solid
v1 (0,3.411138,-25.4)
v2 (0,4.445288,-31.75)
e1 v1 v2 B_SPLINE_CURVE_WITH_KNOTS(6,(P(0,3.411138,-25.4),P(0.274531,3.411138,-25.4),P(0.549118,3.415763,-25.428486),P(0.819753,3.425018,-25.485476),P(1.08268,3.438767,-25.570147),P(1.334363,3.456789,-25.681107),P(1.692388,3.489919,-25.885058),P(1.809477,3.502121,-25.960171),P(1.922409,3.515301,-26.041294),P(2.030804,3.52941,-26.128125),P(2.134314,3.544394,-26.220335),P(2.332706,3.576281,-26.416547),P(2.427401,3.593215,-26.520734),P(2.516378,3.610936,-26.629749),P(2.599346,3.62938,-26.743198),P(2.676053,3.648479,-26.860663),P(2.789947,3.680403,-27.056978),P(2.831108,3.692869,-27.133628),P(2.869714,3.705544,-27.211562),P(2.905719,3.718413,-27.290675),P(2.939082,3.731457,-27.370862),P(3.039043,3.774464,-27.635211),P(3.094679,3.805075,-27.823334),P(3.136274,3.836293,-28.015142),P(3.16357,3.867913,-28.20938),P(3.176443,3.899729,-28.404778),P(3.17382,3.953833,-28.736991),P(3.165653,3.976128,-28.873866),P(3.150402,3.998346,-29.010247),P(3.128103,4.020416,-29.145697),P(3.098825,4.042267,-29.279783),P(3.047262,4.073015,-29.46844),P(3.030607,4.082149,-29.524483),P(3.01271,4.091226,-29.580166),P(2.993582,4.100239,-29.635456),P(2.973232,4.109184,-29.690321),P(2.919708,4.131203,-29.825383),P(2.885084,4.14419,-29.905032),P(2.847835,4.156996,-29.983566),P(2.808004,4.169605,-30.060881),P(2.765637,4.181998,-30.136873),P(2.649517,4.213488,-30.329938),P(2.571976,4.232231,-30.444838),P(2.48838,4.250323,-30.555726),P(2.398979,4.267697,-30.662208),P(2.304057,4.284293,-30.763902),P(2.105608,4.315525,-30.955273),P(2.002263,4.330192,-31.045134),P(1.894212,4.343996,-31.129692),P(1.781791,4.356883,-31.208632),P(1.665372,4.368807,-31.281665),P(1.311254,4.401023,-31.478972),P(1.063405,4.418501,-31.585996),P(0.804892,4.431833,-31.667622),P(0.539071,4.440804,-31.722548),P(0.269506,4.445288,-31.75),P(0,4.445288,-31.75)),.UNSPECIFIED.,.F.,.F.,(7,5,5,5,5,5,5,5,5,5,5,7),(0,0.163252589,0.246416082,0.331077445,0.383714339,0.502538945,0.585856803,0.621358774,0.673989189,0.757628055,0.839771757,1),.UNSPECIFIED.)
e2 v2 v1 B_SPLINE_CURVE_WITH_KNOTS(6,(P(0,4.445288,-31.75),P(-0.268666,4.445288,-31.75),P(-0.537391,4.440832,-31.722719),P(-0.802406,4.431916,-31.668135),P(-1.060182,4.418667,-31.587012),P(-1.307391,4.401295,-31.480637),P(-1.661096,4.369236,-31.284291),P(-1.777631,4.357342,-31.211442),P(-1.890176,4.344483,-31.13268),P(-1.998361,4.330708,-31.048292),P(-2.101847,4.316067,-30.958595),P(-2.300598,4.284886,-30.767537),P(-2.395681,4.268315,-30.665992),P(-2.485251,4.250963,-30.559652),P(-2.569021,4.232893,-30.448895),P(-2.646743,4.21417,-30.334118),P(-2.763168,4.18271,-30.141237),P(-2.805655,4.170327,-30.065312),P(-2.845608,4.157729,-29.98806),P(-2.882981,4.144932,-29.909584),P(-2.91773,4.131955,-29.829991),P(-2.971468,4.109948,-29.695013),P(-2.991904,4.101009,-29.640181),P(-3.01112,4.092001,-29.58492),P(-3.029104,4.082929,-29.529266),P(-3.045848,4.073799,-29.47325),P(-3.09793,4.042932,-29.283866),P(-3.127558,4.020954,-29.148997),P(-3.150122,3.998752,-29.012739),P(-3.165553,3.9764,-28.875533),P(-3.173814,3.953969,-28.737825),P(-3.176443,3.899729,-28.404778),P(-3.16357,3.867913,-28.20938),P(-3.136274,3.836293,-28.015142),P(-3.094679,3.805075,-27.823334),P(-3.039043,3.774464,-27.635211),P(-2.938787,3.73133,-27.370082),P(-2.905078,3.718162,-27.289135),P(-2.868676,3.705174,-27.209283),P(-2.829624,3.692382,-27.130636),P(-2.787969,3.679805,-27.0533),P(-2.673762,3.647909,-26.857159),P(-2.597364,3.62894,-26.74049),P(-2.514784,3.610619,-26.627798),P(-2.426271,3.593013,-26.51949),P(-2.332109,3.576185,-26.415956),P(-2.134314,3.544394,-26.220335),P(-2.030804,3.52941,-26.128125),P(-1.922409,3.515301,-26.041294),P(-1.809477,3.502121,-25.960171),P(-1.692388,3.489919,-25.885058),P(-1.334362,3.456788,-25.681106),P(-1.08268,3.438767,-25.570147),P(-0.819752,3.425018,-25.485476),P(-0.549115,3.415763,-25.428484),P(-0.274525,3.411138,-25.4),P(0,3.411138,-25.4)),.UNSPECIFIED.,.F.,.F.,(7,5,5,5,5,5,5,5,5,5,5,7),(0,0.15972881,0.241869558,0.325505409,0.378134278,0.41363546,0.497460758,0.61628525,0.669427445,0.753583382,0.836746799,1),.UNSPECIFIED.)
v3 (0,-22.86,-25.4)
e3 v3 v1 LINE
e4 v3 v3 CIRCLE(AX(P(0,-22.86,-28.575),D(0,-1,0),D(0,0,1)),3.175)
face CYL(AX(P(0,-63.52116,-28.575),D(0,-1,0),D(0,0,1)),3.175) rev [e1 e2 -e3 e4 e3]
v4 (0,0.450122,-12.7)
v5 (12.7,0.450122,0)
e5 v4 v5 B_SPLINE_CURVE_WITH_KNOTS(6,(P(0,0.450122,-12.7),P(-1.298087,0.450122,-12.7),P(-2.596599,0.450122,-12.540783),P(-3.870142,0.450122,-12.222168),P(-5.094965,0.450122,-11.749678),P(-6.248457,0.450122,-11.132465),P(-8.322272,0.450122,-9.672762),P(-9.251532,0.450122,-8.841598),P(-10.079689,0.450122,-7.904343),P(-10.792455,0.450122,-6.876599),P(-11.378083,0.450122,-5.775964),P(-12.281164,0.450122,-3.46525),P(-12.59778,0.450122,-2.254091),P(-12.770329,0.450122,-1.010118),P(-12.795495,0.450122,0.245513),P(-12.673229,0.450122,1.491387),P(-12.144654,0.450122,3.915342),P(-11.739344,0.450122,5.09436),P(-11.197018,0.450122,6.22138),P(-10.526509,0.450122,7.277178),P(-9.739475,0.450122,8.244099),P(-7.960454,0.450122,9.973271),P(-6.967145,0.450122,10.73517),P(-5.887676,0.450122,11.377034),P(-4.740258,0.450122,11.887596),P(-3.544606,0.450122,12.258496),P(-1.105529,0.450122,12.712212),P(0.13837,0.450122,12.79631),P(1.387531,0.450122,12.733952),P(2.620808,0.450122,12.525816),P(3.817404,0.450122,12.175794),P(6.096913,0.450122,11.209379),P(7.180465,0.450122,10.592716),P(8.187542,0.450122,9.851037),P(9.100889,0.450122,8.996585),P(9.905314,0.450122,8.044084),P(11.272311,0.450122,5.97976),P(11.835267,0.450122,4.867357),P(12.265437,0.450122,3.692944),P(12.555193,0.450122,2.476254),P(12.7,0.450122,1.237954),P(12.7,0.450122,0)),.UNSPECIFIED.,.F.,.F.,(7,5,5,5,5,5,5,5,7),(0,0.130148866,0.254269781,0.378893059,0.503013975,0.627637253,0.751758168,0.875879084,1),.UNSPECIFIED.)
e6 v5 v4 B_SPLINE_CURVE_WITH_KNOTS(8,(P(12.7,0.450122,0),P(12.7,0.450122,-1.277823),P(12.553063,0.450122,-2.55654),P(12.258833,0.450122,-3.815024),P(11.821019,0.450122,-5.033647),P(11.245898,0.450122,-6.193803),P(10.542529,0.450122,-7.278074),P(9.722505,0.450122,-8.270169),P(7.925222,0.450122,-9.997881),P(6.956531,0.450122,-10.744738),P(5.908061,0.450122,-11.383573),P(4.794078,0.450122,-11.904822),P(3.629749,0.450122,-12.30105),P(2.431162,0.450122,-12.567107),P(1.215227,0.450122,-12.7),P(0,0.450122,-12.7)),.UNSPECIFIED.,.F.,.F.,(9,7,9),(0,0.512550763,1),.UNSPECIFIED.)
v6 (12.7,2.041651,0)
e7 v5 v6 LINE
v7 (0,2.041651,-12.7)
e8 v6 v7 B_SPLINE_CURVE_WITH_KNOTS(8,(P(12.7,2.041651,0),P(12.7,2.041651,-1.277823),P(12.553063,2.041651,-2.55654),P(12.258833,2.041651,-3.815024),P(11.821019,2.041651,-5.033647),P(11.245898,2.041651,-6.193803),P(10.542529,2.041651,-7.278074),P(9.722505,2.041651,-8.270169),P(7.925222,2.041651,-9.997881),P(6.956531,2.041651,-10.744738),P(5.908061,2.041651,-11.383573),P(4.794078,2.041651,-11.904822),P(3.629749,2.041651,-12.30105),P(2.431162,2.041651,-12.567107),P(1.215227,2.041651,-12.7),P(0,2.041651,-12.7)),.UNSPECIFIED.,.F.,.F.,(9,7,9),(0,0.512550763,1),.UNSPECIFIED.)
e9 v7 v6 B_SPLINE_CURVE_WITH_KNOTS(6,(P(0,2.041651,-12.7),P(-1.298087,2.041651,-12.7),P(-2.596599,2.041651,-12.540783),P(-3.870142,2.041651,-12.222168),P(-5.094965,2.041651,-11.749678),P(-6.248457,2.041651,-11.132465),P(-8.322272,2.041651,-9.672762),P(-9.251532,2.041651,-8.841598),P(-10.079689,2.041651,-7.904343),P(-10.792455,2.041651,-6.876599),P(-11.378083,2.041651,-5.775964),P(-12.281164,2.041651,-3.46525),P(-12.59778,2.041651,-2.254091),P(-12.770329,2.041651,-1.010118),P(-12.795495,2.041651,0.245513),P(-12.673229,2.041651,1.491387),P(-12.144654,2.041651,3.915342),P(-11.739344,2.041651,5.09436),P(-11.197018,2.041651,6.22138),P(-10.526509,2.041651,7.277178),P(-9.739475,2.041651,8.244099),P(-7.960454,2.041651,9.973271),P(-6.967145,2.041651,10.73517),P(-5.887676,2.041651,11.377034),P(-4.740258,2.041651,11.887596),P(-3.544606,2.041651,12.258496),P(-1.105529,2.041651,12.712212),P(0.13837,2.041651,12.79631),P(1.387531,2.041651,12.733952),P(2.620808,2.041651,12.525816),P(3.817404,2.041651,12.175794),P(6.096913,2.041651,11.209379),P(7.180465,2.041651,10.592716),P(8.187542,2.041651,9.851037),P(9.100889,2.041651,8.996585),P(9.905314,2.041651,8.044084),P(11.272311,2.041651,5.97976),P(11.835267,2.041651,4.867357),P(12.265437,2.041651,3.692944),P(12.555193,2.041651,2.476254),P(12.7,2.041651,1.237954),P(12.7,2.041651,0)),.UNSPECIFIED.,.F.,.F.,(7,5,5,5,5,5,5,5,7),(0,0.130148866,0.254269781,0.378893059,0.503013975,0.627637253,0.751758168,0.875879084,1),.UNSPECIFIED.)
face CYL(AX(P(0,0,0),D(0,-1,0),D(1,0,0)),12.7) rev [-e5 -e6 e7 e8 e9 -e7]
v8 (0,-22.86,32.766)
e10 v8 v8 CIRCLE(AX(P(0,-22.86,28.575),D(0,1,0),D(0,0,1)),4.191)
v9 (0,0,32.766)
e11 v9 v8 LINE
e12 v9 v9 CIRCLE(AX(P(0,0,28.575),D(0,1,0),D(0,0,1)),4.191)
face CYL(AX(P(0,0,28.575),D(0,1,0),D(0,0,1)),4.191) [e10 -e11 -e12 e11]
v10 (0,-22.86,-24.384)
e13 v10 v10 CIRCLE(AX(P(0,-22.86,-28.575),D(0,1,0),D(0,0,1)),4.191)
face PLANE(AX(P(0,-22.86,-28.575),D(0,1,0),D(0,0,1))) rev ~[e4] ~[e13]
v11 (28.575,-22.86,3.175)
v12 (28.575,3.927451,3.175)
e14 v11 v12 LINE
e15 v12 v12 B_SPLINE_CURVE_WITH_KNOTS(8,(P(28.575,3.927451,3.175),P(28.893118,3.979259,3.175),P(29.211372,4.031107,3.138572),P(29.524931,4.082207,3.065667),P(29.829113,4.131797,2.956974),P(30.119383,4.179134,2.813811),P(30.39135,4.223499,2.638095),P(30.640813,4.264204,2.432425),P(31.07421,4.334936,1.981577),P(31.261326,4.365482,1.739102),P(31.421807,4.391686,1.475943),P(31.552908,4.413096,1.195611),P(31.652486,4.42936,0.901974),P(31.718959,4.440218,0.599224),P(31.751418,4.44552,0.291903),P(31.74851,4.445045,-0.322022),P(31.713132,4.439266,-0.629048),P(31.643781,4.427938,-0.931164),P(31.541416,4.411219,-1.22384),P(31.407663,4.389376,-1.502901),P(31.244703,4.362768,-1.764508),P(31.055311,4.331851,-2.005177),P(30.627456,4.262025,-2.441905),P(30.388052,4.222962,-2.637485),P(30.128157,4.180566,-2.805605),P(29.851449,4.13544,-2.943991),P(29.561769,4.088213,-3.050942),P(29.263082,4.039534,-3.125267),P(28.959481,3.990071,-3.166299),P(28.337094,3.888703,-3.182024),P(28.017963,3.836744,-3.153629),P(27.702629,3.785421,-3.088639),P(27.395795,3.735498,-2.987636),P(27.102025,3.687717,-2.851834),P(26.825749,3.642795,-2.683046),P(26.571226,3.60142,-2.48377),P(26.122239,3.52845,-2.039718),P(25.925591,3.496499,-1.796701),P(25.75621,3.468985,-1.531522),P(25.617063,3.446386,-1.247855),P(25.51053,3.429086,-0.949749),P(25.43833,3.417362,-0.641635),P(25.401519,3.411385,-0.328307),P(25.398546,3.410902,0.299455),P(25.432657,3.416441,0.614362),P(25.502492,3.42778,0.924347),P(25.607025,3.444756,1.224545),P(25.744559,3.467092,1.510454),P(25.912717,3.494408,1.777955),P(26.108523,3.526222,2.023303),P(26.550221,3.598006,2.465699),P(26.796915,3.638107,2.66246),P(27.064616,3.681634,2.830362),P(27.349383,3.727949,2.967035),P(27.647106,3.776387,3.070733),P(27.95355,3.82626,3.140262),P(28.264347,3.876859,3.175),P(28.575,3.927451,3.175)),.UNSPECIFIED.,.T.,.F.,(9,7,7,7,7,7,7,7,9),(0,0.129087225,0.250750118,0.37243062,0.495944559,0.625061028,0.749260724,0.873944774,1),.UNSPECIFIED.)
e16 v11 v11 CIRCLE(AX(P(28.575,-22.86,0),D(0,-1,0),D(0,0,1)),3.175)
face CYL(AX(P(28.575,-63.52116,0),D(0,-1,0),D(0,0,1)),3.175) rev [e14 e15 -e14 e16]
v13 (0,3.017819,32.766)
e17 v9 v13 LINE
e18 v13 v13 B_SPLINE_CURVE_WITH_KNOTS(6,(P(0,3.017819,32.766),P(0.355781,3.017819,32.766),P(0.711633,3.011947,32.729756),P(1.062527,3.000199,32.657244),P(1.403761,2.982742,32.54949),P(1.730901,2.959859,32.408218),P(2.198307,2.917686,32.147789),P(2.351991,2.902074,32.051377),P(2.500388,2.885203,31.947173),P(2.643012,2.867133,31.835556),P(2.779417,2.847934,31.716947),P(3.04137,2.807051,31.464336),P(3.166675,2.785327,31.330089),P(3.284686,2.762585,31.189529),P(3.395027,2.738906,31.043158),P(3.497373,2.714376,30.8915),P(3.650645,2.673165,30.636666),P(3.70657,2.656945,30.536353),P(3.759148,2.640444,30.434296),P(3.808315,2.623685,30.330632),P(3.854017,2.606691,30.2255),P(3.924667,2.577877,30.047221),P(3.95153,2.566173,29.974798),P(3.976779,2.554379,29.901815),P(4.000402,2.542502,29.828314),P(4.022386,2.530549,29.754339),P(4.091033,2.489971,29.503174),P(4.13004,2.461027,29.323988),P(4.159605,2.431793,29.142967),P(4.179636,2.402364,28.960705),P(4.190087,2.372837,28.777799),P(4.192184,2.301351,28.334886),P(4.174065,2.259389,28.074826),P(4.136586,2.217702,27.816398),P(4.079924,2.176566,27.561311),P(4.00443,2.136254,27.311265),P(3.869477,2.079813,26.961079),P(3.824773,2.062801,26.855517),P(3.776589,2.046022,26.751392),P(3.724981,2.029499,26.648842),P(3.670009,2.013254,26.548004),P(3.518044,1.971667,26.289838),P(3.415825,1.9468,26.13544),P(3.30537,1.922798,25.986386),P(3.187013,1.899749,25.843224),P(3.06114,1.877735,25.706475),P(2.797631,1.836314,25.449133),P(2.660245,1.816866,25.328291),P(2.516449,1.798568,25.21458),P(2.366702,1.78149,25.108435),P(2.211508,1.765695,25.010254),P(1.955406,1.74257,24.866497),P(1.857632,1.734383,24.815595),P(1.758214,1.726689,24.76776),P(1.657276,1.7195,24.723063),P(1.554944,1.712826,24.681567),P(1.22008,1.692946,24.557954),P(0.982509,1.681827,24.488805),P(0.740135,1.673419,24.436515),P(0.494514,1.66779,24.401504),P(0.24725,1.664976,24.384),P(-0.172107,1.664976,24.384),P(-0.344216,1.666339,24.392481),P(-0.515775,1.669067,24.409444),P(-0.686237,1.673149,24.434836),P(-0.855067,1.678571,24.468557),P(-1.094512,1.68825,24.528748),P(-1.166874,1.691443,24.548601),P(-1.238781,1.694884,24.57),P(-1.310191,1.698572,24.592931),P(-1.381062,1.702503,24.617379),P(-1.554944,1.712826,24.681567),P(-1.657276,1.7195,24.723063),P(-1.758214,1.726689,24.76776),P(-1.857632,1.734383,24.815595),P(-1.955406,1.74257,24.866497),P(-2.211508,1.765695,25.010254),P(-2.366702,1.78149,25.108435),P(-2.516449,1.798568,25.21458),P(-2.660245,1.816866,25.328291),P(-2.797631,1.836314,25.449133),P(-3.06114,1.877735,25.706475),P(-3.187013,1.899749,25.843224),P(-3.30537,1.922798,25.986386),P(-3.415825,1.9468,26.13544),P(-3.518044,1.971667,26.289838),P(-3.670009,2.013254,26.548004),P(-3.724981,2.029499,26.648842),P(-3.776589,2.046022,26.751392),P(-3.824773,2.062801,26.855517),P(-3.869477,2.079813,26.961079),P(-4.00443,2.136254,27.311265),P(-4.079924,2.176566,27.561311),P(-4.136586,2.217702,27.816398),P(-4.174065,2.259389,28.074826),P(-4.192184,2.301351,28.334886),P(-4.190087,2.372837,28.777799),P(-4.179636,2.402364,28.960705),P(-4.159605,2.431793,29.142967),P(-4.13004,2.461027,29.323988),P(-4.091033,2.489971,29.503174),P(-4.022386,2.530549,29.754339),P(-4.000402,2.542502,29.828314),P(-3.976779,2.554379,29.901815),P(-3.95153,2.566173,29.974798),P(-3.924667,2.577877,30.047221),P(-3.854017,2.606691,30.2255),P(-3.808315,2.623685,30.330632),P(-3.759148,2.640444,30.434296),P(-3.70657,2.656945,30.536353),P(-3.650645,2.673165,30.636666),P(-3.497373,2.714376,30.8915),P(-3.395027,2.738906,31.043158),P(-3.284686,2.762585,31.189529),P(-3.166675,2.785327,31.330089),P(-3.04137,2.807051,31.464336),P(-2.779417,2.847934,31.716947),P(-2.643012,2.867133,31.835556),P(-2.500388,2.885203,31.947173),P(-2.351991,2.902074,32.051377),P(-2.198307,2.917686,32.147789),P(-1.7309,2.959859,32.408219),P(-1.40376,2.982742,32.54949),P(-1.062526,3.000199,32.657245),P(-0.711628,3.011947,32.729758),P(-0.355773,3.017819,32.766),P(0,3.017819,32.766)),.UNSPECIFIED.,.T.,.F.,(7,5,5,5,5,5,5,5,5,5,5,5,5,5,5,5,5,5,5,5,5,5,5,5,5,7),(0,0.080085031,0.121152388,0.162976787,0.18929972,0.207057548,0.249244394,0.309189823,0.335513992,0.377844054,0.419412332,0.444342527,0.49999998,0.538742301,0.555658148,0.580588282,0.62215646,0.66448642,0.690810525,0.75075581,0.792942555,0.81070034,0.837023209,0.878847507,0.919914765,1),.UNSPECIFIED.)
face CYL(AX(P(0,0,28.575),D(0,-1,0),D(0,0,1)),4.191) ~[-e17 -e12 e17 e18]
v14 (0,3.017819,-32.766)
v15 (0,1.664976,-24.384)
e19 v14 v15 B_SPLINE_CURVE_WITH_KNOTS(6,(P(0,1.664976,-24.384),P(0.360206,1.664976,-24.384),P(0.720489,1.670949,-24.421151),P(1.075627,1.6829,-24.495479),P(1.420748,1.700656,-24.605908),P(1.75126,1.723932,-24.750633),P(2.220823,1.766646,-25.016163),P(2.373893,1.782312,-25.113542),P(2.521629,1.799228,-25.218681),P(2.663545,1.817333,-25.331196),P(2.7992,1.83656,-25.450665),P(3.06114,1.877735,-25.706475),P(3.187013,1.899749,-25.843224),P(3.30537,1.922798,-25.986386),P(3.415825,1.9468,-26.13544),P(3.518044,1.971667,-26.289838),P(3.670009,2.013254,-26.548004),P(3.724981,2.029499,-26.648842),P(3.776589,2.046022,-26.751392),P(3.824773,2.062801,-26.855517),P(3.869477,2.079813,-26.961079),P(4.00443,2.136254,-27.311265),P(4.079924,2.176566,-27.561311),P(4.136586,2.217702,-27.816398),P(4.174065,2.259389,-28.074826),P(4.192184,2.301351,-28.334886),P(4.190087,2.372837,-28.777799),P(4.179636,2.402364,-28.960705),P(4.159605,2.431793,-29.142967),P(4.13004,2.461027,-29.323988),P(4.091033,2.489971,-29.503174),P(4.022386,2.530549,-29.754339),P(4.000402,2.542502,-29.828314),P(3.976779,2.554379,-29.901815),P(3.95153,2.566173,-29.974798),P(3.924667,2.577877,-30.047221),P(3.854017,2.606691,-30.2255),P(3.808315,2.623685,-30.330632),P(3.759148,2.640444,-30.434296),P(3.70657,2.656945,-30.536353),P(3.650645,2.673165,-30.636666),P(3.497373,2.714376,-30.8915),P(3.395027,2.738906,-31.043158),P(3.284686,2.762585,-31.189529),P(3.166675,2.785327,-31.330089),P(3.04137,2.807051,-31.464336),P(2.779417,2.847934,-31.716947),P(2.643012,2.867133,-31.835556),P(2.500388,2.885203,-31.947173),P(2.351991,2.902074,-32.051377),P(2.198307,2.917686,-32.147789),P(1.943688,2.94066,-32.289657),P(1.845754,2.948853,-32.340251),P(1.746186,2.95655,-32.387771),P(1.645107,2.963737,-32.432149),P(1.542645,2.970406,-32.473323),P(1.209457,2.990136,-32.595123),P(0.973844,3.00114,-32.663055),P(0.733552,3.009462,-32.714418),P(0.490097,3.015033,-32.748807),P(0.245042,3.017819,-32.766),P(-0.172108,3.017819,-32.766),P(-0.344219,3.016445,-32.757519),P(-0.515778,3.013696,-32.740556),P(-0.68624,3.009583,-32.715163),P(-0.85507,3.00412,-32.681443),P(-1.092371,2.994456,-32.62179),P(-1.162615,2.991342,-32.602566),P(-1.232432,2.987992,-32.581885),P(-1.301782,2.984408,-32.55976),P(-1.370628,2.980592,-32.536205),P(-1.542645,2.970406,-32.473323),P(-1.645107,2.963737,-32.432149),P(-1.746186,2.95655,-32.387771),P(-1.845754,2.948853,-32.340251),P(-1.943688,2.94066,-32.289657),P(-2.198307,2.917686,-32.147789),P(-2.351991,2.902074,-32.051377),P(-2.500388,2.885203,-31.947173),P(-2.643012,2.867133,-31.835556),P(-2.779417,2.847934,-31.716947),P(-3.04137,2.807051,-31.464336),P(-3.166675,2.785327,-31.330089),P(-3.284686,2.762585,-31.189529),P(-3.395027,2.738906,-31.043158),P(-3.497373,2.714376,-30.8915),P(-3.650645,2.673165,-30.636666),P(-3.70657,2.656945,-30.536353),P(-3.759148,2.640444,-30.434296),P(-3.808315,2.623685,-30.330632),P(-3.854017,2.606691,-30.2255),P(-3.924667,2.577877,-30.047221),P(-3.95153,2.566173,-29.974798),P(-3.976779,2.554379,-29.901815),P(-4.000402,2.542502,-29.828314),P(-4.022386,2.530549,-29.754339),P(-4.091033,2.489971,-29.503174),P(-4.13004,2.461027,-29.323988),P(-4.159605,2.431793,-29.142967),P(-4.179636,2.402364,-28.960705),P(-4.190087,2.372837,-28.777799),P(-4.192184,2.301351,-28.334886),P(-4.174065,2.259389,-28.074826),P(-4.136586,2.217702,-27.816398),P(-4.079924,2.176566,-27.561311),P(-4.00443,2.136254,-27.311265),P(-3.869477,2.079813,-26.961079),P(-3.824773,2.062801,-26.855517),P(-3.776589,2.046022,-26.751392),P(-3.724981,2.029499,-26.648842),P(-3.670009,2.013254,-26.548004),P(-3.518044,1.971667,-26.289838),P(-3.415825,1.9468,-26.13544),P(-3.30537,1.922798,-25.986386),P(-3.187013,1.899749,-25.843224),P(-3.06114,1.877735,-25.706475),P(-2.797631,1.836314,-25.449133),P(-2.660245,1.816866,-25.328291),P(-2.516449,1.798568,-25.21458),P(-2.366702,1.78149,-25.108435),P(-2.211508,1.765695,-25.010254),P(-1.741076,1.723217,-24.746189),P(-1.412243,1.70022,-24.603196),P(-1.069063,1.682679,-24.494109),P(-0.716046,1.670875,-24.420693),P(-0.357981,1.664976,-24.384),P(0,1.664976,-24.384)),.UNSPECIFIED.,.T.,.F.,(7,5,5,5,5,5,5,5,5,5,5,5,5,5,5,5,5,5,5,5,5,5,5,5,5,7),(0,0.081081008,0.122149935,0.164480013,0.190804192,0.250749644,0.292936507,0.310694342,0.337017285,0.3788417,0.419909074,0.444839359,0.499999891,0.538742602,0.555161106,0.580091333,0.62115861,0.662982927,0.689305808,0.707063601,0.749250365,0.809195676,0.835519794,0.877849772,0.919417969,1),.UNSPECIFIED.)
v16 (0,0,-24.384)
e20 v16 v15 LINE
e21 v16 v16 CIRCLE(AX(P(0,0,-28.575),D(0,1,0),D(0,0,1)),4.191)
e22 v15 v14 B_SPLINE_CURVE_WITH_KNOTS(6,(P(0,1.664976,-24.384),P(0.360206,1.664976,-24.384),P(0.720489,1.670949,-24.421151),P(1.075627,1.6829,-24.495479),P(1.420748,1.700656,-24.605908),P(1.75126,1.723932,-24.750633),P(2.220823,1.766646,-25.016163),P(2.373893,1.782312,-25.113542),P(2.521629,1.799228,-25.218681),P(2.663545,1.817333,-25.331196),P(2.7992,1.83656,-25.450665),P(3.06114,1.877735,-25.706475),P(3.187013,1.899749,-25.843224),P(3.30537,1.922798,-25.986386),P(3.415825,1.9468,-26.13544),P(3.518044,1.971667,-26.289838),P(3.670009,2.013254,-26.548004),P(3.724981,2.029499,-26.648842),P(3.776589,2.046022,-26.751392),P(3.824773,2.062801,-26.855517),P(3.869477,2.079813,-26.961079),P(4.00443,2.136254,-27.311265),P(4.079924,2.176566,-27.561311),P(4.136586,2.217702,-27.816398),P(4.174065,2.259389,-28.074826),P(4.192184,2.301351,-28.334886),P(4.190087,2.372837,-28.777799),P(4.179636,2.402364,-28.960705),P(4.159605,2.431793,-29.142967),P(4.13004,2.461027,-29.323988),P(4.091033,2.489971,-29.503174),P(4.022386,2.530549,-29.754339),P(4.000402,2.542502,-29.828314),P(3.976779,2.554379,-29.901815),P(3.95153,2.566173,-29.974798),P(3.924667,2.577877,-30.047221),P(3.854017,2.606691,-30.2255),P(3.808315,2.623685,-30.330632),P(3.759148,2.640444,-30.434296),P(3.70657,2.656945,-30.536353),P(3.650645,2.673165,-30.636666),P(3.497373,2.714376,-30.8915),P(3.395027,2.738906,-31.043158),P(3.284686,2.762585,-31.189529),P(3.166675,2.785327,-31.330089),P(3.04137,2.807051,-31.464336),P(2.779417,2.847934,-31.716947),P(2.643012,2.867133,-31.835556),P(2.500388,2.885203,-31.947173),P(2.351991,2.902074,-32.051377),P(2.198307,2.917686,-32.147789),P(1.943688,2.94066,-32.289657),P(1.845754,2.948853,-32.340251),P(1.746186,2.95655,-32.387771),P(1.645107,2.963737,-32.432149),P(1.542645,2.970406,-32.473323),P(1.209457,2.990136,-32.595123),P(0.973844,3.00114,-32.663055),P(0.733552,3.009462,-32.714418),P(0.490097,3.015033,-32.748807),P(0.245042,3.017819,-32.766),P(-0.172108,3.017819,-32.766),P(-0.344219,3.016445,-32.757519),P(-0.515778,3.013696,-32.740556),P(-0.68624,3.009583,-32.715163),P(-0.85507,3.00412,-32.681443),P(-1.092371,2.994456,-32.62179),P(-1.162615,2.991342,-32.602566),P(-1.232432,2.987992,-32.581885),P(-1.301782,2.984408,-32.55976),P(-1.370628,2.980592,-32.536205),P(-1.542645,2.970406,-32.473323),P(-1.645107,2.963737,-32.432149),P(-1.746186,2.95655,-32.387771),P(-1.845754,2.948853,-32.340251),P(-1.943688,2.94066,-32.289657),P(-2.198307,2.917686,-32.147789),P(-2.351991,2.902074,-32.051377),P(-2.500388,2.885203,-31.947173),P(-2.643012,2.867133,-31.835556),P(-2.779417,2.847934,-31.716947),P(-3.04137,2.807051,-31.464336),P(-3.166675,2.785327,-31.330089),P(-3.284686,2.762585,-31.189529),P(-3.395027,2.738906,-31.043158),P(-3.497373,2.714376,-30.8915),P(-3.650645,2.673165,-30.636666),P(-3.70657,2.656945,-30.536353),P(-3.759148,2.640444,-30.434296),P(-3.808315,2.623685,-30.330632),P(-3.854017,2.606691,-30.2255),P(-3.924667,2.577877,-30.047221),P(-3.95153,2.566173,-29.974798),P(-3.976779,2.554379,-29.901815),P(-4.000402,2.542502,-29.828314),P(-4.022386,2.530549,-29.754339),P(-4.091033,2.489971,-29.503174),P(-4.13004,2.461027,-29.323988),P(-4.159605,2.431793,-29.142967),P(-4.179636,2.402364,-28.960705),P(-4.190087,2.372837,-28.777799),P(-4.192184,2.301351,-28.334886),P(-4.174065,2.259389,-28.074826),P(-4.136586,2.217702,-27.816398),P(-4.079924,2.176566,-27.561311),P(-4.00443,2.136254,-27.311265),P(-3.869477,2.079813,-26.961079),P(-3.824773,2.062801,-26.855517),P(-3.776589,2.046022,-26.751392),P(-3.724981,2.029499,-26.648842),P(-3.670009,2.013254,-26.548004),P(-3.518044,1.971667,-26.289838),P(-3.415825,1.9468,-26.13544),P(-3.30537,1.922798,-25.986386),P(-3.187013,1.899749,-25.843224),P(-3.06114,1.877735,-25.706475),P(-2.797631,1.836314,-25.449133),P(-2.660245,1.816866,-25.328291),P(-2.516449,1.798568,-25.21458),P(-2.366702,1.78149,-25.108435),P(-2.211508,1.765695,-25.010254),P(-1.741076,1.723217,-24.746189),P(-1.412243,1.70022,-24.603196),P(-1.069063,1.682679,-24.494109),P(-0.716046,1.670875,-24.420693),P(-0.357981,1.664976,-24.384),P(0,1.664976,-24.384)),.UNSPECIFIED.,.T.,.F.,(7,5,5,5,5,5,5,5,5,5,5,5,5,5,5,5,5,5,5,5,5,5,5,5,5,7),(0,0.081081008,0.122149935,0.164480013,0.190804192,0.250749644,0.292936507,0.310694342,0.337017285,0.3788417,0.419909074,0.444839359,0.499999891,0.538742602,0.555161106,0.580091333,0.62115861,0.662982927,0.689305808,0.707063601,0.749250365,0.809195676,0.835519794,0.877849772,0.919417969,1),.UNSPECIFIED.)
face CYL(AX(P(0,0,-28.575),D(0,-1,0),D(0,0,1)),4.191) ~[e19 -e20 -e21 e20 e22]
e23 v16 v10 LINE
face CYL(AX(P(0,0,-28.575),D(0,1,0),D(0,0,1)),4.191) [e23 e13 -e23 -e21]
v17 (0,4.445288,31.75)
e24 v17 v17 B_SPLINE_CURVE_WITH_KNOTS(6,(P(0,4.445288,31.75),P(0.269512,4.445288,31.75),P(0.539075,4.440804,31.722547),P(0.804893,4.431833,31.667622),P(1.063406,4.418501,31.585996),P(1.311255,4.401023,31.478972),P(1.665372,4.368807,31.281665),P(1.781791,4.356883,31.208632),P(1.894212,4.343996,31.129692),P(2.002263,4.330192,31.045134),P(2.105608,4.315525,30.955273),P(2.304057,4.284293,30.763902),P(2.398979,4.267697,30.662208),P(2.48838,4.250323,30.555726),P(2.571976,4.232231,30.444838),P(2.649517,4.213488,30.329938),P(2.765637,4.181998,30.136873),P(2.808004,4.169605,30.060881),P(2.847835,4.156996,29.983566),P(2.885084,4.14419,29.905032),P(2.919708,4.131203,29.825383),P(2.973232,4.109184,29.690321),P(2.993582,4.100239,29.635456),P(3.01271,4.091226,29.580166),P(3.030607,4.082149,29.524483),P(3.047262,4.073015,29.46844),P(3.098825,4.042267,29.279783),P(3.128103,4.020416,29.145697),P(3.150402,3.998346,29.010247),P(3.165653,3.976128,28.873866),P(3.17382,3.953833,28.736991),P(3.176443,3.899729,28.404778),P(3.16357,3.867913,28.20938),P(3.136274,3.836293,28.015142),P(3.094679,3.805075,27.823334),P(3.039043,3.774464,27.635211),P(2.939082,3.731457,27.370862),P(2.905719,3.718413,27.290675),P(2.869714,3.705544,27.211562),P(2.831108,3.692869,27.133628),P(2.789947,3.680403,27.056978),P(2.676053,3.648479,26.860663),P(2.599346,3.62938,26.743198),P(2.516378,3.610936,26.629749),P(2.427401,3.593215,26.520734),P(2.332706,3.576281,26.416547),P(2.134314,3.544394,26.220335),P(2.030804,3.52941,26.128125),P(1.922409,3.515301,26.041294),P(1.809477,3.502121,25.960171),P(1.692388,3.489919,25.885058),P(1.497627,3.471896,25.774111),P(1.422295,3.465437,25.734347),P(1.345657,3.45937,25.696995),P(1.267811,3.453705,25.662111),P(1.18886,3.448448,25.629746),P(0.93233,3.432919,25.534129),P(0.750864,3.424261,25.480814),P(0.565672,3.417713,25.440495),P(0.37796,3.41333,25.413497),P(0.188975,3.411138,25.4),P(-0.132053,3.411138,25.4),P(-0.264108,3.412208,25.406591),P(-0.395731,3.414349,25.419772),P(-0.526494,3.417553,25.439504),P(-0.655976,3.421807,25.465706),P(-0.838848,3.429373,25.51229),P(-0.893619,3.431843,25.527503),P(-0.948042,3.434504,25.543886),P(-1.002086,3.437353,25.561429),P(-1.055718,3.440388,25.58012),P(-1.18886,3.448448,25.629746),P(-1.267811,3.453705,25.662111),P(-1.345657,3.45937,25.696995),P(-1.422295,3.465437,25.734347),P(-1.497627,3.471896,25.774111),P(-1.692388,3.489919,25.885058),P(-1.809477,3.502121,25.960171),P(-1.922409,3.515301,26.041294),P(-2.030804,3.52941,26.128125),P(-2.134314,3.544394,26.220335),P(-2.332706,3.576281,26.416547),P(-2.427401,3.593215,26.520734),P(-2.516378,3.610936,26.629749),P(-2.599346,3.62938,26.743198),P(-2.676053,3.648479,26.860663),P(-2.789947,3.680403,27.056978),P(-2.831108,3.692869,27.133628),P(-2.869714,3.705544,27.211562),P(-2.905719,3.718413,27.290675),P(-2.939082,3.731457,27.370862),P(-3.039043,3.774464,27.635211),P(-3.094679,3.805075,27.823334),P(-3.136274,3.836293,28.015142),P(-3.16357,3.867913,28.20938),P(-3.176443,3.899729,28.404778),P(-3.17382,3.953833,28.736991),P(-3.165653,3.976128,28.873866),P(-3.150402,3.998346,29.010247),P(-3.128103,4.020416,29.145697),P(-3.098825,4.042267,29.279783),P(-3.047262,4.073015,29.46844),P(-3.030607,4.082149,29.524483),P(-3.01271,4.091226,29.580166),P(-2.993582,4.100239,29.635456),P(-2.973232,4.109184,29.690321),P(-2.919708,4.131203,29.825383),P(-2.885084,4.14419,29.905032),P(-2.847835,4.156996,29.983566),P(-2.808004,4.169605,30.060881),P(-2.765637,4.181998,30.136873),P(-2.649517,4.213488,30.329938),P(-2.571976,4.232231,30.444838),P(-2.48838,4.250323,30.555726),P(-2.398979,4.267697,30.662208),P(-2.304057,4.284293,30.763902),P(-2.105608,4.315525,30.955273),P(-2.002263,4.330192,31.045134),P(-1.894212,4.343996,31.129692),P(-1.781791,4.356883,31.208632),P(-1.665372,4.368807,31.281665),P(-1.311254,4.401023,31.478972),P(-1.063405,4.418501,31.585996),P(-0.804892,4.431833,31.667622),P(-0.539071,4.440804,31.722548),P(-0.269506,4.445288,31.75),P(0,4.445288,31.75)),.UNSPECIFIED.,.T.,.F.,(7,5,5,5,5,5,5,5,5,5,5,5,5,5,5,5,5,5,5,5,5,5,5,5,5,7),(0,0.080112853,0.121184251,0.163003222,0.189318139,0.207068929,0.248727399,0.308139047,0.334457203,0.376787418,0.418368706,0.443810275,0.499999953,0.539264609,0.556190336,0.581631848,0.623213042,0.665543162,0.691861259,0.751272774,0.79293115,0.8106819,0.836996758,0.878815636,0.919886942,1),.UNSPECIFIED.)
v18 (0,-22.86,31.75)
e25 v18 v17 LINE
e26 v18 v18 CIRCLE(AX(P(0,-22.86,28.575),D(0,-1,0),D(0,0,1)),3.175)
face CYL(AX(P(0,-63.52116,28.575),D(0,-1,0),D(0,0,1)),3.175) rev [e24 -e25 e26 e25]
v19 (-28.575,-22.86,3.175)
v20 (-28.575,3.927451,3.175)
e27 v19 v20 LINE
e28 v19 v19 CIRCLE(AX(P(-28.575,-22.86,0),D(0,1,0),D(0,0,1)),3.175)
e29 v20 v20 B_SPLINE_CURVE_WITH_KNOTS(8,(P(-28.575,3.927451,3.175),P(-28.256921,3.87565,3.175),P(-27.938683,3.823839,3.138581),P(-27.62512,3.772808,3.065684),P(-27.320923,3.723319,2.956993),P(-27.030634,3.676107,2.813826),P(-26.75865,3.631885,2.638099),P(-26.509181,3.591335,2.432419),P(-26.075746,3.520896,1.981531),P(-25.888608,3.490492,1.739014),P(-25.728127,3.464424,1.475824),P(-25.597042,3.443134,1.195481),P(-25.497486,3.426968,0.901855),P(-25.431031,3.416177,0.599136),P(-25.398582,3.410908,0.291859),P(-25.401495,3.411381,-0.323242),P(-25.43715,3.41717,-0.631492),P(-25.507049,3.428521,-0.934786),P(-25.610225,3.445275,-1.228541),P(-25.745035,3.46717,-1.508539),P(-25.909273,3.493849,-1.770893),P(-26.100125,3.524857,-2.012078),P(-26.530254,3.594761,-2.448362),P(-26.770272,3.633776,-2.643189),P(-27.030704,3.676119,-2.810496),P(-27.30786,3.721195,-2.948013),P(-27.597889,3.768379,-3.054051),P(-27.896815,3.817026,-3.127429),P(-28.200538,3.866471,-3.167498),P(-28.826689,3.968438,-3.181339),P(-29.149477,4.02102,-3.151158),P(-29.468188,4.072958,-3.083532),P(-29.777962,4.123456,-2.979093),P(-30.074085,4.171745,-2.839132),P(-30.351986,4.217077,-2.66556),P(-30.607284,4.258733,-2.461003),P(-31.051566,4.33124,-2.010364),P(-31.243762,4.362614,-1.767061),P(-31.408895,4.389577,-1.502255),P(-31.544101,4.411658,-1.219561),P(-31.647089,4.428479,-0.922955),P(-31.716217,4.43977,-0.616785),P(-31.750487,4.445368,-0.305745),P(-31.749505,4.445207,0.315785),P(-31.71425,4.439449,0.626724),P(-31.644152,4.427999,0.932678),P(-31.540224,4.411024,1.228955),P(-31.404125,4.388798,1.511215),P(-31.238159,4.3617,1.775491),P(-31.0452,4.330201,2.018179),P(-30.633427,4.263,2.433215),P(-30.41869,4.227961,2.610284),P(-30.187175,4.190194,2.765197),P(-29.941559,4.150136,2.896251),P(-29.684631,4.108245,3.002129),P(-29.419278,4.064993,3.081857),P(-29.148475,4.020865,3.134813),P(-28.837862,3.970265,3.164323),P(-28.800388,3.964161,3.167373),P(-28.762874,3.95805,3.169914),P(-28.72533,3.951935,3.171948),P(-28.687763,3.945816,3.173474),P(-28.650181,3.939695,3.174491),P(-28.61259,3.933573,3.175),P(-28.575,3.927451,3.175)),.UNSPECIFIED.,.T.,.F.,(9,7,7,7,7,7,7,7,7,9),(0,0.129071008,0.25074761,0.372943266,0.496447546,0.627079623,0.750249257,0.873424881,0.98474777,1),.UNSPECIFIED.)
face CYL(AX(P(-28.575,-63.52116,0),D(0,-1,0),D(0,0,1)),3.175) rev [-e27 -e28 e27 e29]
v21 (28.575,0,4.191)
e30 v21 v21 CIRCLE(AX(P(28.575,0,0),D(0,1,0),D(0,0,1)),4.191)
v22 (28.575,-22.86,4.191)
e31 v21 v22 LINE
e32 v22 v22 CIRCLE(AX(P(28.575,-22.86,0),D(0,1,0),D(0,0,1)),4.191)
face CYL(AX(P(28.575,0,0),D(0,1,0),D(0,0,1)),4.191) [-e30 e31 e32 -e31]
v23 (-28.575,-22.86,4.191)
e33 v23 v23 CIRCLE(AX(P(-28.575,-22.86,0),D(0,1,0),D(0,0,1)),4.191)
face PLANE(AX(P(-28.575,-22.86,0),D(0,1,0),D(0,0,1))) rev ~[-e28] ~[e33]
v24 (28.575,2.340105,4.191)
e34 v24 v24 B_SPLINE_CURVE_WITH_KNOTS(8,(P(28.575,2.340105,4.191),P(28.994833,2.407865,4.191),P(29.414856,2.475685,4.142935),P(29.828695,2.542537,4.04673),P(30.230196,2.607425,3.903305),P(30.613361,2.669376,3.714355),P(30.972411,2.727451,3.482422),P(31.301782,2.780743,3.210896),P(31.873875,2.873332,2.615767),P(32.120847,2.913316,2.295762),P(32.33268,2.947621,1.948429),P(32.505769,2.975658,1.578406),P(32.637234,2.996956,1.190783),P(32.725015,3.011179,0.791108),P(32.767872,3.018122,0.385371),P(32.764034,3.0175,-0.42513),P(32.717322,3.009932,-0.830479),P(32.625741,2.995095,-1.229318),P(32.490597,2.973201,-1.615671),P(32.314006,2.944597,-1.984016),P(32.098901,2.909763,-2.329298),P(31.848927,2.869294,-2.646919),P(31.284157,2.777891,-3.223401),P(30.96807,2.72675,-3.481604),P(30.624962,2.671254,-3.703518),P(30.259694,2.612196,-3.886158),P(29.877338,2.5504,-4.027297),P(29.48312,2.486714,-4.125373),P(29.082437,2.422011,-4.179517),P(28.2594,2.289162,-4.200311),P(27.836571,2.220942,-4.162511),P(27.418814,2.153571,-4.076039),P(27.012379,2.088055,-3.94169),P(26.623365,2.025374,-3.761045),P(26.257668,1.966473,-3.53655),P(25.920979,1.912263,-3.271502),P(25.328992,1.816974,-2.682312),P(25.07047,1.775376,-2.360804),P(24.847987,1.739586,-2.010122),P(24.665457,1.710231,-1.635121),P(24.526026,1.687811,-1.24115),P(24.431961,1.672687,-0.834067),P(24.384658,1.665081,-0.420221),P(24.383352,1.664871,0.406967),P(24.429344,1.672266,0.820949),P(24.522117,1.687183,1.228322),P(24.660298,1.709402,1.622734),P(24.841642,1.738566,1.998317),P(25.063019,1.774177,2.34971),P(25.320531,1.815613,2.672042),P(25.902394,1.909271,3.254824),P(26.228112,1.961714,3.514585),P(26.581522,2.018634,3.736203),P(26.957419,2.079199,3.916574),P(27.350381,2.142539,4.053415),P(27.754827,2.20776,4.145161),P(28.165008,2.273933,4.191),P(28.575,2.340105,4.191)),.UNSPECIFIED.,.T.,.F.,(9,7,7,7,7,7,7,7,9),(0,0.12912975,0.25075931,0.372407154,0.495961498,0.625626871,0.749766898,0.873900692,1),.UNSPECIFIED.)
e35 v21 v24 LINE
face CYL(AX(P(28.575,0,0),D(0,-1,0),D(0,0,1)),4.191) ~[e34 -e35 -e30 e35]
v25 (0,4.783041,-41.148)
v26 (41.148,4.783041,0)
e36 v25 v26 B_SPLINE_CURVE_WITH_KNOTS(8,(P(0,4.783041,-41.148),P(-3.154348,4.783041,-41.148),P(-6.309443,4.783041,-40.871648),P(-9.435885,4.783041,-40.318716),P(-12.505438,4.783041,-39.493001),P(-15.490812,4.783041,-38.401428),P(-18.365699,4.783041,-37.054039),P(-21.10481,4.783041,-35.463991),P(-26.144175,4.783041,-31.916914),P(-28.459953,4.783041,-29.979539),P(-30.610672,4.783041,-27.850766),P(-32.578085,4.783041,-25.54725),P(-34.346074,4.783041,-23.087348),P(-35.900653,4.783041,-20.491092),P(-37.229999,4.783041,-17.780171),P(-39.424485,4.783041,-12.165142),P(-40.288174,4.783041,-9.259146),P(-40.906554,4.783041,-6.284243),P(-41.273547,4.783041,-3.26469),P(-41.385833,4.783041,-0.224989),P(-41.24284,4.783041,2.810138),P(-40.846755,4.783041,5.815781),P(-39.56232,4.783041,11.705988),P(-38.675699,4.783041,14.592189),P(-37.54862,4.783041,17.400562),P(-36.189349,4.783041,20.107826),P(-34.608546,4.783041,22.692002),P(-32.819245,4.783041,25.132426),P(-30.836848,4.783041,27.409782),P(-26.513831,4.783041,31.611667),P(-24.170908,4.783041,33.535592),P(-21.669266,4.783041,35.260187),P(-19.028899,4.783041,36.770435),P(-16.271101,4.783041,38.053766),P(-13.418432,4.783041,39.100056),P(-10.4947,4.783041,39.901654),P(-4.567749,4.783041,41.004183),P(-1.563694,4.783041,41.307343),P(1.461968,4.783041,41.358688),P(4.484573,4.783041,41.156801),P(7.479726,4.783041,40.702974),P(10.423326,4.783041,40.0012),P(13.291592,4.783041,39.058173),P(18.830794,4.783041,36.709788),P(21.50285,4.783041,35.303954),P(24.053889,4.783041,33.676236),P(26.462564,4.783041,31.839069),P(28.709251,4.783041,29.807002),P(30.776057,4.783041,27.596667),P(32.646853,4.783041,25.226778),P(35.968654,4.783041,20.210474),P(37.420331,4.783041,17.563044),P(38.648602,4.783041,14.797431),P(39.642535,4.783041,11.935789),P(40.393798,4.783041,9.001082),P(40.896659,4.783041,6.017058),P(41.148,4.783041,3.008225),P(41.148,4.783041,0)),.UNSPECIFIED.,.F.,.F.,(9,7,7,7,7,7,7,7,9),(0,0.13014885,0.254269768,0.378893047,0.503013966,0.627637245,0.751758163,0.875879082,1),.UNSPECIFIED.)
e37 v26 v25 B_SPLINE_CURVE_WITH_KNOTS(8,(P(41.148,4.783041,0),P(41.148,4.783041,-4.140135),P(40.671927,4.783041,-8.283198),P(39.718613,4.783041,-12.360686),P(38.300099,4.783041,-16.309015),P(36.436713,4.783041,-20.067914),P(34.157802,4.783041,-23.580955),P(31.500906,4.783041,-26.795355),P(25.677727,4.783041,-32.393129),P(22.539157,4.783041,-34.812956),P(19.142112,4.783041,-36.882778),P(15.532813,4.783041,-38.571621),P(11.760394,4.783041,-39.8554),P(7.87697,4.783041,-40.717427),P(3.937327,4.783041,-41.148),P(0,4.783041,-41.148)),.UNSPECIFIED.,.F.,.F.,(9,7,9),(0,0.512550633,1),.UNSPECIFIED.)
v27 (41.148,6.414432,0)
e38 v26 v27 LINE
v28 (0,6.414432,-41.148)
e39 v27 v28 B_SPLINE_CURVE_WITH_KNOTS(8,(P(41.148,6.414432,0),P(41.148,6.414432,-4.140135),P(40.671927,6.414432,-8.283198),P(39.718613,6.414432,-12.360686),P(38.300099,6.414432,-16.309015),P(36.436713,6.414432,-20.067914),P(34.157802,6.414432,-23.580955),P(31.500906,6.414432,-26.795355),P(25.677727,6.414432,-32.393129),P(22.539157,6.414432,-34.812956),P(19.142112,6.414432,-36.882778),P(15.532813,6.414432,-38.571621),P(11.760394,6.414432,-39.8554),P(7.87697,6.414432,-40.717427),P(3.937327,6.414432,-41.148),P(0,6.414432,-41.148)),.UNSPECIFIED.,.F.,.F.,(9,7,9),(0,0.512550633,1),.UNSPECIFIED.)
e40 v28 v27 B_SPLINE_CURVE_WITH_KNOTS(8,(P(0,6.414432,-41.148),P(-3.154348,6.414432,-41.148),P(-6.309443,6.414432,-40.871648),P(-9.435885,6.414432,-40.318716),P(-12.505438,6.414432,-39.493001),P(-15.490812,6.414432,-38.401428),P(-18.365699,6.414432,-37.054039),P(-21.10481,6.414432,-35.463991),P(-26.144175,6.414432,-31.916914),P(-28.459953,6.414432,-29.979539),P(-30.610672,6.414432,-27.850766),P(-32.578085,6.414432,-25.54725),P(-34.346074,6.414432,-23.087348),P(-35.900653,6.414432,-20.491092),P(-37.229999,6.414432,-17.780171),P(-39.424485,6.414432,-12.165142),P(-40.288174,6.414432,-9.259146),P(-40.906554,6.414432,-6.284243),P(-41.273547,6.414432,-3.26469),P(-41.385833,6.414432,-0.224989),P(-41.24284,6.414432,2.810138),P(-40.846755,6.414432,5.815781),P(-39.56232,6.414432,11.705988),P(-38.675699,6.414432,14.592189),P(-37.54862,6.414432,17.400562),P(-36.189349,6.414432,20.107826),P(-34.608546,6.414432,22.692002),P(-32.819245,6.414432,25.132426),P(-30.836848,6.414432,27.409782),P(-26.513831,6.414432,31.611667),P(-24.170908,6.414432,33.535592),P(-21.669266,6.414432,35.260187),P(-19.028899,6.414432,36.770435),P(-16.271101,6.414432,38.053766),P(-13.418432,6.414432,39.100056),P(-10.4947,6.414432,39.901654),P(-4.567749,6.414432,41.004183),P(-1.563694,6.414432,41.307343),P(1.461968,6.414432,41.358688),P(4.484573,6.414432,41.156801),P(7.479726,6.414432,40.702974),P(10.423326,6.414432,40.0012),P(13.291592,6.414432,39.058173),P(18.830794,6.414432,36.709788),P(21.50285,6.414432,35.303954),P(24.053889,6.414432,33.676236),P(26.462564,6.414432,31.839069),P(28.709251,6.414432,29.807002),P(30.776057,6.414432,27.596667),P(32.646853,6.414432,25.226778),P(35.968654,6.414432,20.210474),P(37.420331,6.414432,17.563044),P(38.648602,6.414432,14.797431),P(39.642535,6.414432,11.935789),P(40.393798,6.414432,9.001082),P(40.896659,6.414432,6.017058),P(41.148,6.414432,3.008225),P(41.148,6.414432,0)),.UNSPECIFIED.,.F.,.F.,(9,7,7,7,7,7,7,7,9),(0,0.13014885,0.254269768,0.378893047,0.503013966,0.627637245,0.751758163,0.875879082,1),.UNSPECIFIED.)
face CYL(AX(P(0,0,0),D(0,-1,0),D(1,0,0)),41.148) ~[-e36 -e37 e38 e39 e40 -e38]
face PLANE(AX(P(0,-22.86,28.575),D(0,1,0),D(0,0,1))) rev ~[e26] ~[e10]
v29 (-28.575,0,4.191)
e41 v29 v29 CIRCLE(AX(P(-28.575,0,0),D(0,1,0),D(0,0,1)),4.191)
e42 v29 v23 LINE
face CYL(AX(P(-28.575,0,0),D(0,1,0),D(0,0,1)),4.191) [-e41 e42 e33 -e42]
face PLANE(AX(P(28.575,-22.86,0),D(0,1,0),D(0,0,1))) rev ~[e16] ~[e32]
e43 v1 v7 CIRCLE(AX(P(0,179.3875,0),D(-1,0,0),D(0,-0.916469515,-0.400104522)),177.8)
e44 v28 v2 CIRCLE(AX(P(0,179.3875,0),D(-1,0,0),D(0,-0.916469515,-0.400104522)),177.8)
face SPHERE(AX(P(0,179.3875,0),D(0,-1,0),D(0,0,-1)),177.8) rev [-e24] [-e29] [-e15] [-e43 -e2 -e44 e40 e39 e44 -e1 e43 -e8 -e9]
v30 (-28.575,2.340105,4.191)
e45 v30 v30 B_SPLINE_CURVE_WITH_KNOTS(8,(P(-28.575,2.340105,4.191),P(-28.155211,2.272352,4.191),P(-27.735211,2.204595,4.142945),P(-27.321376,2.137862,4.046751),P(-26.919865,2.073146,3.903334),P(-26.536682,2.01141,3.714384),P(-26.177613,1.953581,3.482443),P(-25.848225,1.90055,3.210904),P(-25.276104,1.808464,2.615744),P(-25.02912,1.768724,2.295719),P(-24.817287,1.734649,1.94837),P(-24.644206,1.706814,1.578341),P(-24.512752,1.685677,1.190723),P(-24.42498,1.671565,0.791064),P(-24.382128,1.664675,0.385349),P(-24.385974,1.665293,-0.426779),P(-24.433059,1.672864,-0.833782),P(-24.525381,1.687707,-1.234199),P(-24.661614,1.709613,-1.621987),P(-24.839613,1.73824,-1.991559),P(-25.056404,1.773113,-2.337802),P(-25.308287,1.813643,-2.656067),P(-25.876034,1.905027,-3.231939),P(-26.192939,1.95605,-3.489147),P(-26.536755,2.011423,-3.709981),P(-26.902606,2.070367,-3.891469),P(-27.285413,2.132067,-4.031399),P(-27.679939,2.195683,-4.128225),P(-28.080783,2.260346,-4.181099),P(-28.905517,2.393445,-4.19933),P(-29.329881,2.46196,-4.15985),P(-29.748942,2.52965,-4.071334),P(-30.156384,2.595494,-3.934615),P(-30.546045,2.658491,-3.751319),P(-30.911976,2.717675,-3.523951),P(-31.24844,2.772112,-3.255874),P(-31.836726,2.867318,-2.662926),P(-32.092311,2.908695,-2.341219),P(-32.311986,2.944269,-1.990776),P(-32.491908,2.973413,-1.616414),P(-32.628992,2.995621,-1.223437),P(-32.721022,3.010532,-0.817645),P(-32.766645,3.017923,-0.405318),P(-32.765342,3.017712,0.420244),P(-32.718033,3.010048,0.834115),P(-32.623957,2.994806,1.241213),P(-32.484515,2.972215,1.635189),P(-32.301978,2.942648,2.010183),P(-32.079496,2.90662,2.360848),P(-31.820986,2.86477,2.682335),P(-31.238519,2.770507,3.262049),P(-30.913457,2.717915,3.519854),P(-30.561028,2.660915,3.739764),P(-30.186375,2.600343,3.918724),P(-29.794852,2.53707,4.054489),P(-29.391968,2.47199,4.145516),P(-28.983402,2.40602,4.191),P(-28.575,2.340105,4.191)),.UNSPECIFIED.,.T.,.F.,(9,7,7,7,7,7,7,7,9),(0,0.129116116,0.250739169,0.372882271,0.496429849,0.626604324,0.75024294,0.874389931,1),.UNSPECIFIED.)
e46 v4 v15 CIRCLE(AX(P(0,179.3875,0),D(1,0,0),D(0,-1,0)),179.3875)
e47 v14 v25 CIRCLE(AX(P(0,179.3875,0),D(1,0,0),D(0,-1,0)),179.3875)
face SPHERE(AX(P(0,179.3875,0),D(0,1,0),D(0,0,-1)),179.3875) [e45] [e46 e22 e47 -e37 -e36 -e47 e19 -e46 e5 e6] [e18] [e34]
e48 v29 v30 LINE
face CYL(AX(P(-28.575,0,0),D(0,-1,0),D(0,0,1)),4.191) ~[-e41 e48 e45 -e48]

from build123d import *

# Parameters (mm, degrees)
BOSS_EXTRUDE2_REACH             = 105.962
BOSS_EXTRUDE2_END_RADIUS        = 179.3875
SKETCH2_R                       = 4.191
SKETCH2_R_2                     = 3.175
BOSS_EXTRUDE2_DIRECTION_2_DEPTH = 22.86
SKETCH2_6_R                     = 72.587717307
SKETCH2_6_R_2                   = 41.148
SKETCH2_6_R_3                   = 12.7
CUT_EXTRUDE3_DEPTH              = 106.169068821
CUT_EXTRUDE4_DEPTH              = 63.521159814
CUT_EXTRUDE4_DEPTH_BACK         = 63.521159814
SKETCH2_8_R                     = 3.175


with BuildPart() as part:
    # Sketch1 → Revolve1 (revolve)
    with BuildSketch(Plane.XY, mode=Mode.PRIVATE) as revolve1_sk:
        with BuildLine():
            Line((0, 1.5875), (0, 0))
            ThreePointArc((0, 0), (-37.095674447, 3.877425948), (-72.587717307, 15.342084177))
            Line((-72.587717307, 15.342084177), (-71.138583931, 16.439220241))
            ThreePointArc((-71.138583931, 16.439220241), (-36.336179346, 5.340029261), (0, 1.5875))
        make_face()
    revolve(revolve1_sk.sketch.rotate(Axis((0, 0, 0), (0, 1, 0)), 270), axis=Axis((0, 0, 0), (0, 1, 0)))

    # Boss-Extrude2: up to this sphere (the profile starts outside it)
    boss_extrude2_end = Location((0, 179.3875, 0)) * Sphere(BOSS_EXTRUDE2_END_RADIUS, mode=Mode.PRIVATE)
    # Sketch2 → Boss-Extrude2 (add, up to the surface)
    with BuildSketch(Plane(origin=(0, 0, 0), x_dir=(1, 0, 0), z_dir=(0, 1, 0)), mode=Mode.PRIVATE) as boss_extrude2_sk1:
        with Locations(Location((-28.575, 0, 0), (0, 0, 270))):
            Circle(SKETCH2_R)
        with Locations((-28.575, 0)):
            Circle(SKETCH2_R_2, mode=Mode.SUBTRACT)
    boss_extrude2_tool1 = extrude(boss_extrude2_sk1.sketch, amount=BOSS_EXTRUDE2_REACH, mode=Mode.PRIVATE) - boss_extrude2_end
    add(boss_extrude2_tool1.solids().sort_by_distance((-28.575, 0, -4.072461))[0])
    # Sketch2 → Boss-Extrude2 (add, up to the surface)
    with BuildSketch(Plane(origin=(0, 0, 0), x_dir=(1, 0, 0), z_dir=(0, 1, 0)), mode=Mode.PRIVATE) as boss_extrude2_sk2:
        with Locations((-28.575, 0)):
            Circle(SKETCH2_R_2)
    boss_extrude2_tool2 = extrude(boss_extrude2_sk2.sketch, amount=BOSS_EXTRUDE2_REACH, mode=Mode.PRIVATE) - boss_extrude2_end
    add(boss_extrude2_tool2.solids().sort_by_distance((-28.575, 0, 0))[0])
    # Sketch2 → Boss-Extrude2 (add, up to the surface)
    with BuildSketch(Plane(origin=(0, 0, 0), x_dir=(1, 0, 0), z_dir=(0, 1, 0)), mode=Mode.PRIVATE) as boss_extrude2_sk3:
        with Locations(Location((0, 28.575, 0), (0, 0, 270))):
            Circle(SKETCH2_R)
        with Locations((0, 28.575)):
            Circle(SKETCH2_R_2, mode=Mode.SUBTRACT)
    boss_extrude2_tool3 = extrude(boss_extrude2_sk3.sketch, amount=BOSS_EXTRUDE2_REACH, mode=Mode.PRIVATE) - boss_extrude2_end
    add(boss_extrude2_tool3.solids().sort_by_distance((0, 0, -32.647461))[0])
    # Sketch2 → Boss-Extrude2 (add, up to the surface)
    with BuildSketch(Plane(origin=(0, 0, 0), x_dir=(1, 0, 0), z_dir=(0, 1, 0)), mode=Mode.PRIVATE) as boss_extrude2_sk4:
        with Locations((0, 28.575)):
            Circle(SKETCH2_R_2)
    boss_extrude2_tool4 = extrude(boss_extrude2_sk4.sketch, amount=BOSS_EXTRUDE2_REACH, mode=Mode.PRIVATE) - boss_extrude2_end
    add(boss_extrude2_tool4.solids().sort_by_distance((0, 0, -28.575))[0])
    # Sketch2 → Boss-Extrude2 (add, up to the surface)
    with BuildSketch(Plane(origin=(0, 0, 0), x_dir=(1, 0, 0), z_dir=(0, 1, 0)), mode=Mode.PRIVATE) as boss_extrude2_sk5:
        with Locations(Location((28.575, 0, 0), (0, 0, 270))):
            Circle(SKETCH2_R)
        with Locations((28.575, 0)):
            Circle(SKETCH2_R_2, mode=Mode.SUBTRACT)
    boss_extrude2_tool5 = extrude(boss_extrude2_sk5.sketch, amount=BOSS_EXTRUDE2_REACH, mode=Mode.PRIVATE) - boss_extrude2_end
    add(boss_extrude2_tool5.solids().sort_by_distance((28.575, 0, -4.072461))[0])
    # Sketch2 → Boss-Extrude2 (add, up to the surface)
    with BuildSketch(Plane(origin=(0, 0, 0), x_dir=(1, 0, 0), z_dir=(0, 1, 0)), mode=Mode.PRIVATE) as boss_extrude2_sk6:
        with Locations((28.575, 0)):
            Circle(SKETCH2_R_2)
    boss_extrude2_tool6 = extrude(boss_extrude2_sk6.sketch, amount=BOSS_EXTRUDE2_REACH, mode=Mode.PRIVATE) - boss_extrude2_end
    add(boss_extrude2_tool6.solids().sort_by_distance((28.575, 0, 0))[0])
    # Sketch2 → Boss-Extrude2 (add, up to the surface)
    with BuildSketch(Plane(origin=(0, 0, 0), x_dir=(1, 0, 0), z_dir=(0, 1, 0)), mode=Mode.PRIVATE) as boss_extrude2_sk7:
        with Locations(Location((0, -28.575, 0), (0, 0, 270))):
            Circle(SKETCH2_R)
        with Locations((0, -28.575)):
            Circle(SKETCH2_R_2, mode=Mode.SUBTRACT)
    boss_extrude2_tool7 = extrude(boss_extrude2_sk7.sketch, amount=BOSS_EXTRUDE2_REACH, mode=Mode.PRIVATE) - boss_extrude2_end
    add(boss_extrude2_tool7.solids().sort_by_distance((0, 0, 24.502539))[0])
    # Sketch2 → Boss-Extrude2 (add, up to the surface)
    with BuildSketch(Plane(origin=(0, 0, 0), x_dir=(1, 0, 0), z_dir=(0, 1, 0)), mode=Mode.PRIVATE) as boss_extrude2_sk8:
        with Locations((0, -28.575)):
            Circle(SKETCH2_R_2)
    boss_extrude2_tool8 = extrude(boss_extrude2_sk8.sketch, amount=BOSS_EXTRUDE2_REACH, mode=Mode.PRIVATE) - boss_extrude2_end
    add(boss_extrude2_tool8.solids().sort_by_distance((0, 0, 28.575))[0])

    # Sketch2 → Boss-Extrude2 direction 2 (add)
    # profile 1 of 8: a face of its own
    with BuildSketch(Plane(origin=(0, 0, 0), x_dir=(1, 0, 0), z_dir=(0, 1, 0))):
        with Locations(Location((-28.575, 0, 0), (0, 0, 270))):
            Circle(SKETCH2_R)
        with Locations((-28.575, 0)):
            Circle(SKETCH2_R_2, mode=Mode.SUBTRACT)
    # profile 2 of 8: a face of its own
    with BuildSketch(Plane(origin=(0, 0, 0), x_dir=(1, 0, 0), z_dir=(0, 1, 0))):
        with Locations((-28.575, 0)):
            Circle(SKETCH2_R_2)
    # profile 3 of 8: a face of its own
    with BuildSketch(Plane(origin=(0, 0, 0), x_dir=(1, 0, 0), z_dir=(0, 1, 0))):
        with Locations(Location((0, 28.575, 0), (0, 0, 270))):
            Circle(SKETCH2_R)
        with Locations((0, 28.575)):
            Circle(SKETCH2_R_2, mode=Mode.SUBTRACT)
    # profile 4 of 8: a face of its own
    with BuildSketch(Plane(origin=(0, 0, 0), x_dir=(1, 0, 0), z_dir=(0, 1, 0))):
        with Locations((0, 28.575)):
            Circle(SKETCH2_R_2)
    # profile 5 of 8: a face of its own
    with BuildSketch(Plane(origin=(0, 0, 0), x_dir=(1, 0, 0), z_dir=(0, 1, 0))):
        with Locations(Location((28.575, 0, 0), (0, 0, 270))):
            Circle(SKETCH2_R)
        with Locations((28.575, 0)):
            Circle(SKETCH2_R_2, mode=Mode.SUBTRACT)
    # profile 6 of 8: a face of its own
    with BuildSketch(Plane(origin=(0, 0, 0), x_dir=(1, 0, 0), z_dir=(0, 1, 0))):
        with Locations((28.575, 0)):
            Circle(SKETCH2_R_2)
    # profile 7 of 8: a face of its own
    with BuildSketch(Plane(origin=(0, 0, 0), x_dir=(1, 0, 0), z_dir=(0, 1, 0))):
        with Locations(Location((0, -28.575, 0), (0, 0, 270))):
            Circle(SKETCH2_R)
        with Locations((0, -28.575)):
            Circle(SKETCH2_R_2, mode=Mode.SUBTRACT)
    # profile 8 of 8: a face of its own
    with BuildSketch(Plane(origin=(0, 0, 0), x_dir=(1, 0, 0), z_dir=(0, 1, 0))):
        with Locations((0, -28.575)):
            Circle(SKETCH2_R_2)
    extrude(amount=-BOSS_EXTRUDE2_DIRECTION_2_DEPTH)

    # Sketch2<6> → Cut-Extrude3 (cut, through all)
    # profile 1 of 2: a face of its own
    with BuildSketch(Plane(origin=(0, 0, 0), x_dir=(1, 0, 0), z_dir=(0, 1, 0))):
        Circle(SKETCH2_6_R)
        Circle(SKETCH2_6_R_2, mode=Mode.SUBTRACT)
    # profile 2 of 2: a face of its own
    with BuildSketch(Plane(origin=(0, 0, 0), x_dir=(1, 0, 0), z_dir=(0, 1, 0))):
        Circle(SKETCH2_6_R_3)
    extrude(amount=CUT_EXTRUDE3_DEPTH, mode=Mode.SUBTRACT)


with BuildPart() as cut_extrude3_kept_piece:
    # of the separate pieces the step leaves, the one the design keeps (cut_extrude3_pieces_kept)
    add(part.part.solids().sort_by_distance((41.148, 6.414432455, 0))[0])

    # Sketch2<8> → Cut-Extrude4 (cut, two sides: drawn at the far end of the back side and taken through both)
    with BuildSketch(Plane(origin=(0, 0, 0), x_dir=(1, 0, 0), z_dir=(0, 1, 0)).offset(-CUT_EXTRUDE4_DEPTH_BACK)):
        with Locations(Location((-28.575, 0, 0), (0, 0, 270))):
            Circle(SKETCH2_8_R)
        with Locations(Location((0, 28.575, 0), (0, 0, 270))):
            Circle(SKETCH2_8_R)
        with Locations(Location((28.575, 0, 0), (0, 0, 270))):
            Circle(SKETCH2_8_R)
        with Locations(Location((0, -28.575, 0), (0, 0, 270))):
            Circle(SKETCH2_8_R)
    extrude(amount=CUT_EXTRUDE4_DEPTH + CUT_EXTRUDE4_DEPTH_BACK, mode=Mode.SUBTRACT)


solid = cut_extrude3_kept_piece.part
